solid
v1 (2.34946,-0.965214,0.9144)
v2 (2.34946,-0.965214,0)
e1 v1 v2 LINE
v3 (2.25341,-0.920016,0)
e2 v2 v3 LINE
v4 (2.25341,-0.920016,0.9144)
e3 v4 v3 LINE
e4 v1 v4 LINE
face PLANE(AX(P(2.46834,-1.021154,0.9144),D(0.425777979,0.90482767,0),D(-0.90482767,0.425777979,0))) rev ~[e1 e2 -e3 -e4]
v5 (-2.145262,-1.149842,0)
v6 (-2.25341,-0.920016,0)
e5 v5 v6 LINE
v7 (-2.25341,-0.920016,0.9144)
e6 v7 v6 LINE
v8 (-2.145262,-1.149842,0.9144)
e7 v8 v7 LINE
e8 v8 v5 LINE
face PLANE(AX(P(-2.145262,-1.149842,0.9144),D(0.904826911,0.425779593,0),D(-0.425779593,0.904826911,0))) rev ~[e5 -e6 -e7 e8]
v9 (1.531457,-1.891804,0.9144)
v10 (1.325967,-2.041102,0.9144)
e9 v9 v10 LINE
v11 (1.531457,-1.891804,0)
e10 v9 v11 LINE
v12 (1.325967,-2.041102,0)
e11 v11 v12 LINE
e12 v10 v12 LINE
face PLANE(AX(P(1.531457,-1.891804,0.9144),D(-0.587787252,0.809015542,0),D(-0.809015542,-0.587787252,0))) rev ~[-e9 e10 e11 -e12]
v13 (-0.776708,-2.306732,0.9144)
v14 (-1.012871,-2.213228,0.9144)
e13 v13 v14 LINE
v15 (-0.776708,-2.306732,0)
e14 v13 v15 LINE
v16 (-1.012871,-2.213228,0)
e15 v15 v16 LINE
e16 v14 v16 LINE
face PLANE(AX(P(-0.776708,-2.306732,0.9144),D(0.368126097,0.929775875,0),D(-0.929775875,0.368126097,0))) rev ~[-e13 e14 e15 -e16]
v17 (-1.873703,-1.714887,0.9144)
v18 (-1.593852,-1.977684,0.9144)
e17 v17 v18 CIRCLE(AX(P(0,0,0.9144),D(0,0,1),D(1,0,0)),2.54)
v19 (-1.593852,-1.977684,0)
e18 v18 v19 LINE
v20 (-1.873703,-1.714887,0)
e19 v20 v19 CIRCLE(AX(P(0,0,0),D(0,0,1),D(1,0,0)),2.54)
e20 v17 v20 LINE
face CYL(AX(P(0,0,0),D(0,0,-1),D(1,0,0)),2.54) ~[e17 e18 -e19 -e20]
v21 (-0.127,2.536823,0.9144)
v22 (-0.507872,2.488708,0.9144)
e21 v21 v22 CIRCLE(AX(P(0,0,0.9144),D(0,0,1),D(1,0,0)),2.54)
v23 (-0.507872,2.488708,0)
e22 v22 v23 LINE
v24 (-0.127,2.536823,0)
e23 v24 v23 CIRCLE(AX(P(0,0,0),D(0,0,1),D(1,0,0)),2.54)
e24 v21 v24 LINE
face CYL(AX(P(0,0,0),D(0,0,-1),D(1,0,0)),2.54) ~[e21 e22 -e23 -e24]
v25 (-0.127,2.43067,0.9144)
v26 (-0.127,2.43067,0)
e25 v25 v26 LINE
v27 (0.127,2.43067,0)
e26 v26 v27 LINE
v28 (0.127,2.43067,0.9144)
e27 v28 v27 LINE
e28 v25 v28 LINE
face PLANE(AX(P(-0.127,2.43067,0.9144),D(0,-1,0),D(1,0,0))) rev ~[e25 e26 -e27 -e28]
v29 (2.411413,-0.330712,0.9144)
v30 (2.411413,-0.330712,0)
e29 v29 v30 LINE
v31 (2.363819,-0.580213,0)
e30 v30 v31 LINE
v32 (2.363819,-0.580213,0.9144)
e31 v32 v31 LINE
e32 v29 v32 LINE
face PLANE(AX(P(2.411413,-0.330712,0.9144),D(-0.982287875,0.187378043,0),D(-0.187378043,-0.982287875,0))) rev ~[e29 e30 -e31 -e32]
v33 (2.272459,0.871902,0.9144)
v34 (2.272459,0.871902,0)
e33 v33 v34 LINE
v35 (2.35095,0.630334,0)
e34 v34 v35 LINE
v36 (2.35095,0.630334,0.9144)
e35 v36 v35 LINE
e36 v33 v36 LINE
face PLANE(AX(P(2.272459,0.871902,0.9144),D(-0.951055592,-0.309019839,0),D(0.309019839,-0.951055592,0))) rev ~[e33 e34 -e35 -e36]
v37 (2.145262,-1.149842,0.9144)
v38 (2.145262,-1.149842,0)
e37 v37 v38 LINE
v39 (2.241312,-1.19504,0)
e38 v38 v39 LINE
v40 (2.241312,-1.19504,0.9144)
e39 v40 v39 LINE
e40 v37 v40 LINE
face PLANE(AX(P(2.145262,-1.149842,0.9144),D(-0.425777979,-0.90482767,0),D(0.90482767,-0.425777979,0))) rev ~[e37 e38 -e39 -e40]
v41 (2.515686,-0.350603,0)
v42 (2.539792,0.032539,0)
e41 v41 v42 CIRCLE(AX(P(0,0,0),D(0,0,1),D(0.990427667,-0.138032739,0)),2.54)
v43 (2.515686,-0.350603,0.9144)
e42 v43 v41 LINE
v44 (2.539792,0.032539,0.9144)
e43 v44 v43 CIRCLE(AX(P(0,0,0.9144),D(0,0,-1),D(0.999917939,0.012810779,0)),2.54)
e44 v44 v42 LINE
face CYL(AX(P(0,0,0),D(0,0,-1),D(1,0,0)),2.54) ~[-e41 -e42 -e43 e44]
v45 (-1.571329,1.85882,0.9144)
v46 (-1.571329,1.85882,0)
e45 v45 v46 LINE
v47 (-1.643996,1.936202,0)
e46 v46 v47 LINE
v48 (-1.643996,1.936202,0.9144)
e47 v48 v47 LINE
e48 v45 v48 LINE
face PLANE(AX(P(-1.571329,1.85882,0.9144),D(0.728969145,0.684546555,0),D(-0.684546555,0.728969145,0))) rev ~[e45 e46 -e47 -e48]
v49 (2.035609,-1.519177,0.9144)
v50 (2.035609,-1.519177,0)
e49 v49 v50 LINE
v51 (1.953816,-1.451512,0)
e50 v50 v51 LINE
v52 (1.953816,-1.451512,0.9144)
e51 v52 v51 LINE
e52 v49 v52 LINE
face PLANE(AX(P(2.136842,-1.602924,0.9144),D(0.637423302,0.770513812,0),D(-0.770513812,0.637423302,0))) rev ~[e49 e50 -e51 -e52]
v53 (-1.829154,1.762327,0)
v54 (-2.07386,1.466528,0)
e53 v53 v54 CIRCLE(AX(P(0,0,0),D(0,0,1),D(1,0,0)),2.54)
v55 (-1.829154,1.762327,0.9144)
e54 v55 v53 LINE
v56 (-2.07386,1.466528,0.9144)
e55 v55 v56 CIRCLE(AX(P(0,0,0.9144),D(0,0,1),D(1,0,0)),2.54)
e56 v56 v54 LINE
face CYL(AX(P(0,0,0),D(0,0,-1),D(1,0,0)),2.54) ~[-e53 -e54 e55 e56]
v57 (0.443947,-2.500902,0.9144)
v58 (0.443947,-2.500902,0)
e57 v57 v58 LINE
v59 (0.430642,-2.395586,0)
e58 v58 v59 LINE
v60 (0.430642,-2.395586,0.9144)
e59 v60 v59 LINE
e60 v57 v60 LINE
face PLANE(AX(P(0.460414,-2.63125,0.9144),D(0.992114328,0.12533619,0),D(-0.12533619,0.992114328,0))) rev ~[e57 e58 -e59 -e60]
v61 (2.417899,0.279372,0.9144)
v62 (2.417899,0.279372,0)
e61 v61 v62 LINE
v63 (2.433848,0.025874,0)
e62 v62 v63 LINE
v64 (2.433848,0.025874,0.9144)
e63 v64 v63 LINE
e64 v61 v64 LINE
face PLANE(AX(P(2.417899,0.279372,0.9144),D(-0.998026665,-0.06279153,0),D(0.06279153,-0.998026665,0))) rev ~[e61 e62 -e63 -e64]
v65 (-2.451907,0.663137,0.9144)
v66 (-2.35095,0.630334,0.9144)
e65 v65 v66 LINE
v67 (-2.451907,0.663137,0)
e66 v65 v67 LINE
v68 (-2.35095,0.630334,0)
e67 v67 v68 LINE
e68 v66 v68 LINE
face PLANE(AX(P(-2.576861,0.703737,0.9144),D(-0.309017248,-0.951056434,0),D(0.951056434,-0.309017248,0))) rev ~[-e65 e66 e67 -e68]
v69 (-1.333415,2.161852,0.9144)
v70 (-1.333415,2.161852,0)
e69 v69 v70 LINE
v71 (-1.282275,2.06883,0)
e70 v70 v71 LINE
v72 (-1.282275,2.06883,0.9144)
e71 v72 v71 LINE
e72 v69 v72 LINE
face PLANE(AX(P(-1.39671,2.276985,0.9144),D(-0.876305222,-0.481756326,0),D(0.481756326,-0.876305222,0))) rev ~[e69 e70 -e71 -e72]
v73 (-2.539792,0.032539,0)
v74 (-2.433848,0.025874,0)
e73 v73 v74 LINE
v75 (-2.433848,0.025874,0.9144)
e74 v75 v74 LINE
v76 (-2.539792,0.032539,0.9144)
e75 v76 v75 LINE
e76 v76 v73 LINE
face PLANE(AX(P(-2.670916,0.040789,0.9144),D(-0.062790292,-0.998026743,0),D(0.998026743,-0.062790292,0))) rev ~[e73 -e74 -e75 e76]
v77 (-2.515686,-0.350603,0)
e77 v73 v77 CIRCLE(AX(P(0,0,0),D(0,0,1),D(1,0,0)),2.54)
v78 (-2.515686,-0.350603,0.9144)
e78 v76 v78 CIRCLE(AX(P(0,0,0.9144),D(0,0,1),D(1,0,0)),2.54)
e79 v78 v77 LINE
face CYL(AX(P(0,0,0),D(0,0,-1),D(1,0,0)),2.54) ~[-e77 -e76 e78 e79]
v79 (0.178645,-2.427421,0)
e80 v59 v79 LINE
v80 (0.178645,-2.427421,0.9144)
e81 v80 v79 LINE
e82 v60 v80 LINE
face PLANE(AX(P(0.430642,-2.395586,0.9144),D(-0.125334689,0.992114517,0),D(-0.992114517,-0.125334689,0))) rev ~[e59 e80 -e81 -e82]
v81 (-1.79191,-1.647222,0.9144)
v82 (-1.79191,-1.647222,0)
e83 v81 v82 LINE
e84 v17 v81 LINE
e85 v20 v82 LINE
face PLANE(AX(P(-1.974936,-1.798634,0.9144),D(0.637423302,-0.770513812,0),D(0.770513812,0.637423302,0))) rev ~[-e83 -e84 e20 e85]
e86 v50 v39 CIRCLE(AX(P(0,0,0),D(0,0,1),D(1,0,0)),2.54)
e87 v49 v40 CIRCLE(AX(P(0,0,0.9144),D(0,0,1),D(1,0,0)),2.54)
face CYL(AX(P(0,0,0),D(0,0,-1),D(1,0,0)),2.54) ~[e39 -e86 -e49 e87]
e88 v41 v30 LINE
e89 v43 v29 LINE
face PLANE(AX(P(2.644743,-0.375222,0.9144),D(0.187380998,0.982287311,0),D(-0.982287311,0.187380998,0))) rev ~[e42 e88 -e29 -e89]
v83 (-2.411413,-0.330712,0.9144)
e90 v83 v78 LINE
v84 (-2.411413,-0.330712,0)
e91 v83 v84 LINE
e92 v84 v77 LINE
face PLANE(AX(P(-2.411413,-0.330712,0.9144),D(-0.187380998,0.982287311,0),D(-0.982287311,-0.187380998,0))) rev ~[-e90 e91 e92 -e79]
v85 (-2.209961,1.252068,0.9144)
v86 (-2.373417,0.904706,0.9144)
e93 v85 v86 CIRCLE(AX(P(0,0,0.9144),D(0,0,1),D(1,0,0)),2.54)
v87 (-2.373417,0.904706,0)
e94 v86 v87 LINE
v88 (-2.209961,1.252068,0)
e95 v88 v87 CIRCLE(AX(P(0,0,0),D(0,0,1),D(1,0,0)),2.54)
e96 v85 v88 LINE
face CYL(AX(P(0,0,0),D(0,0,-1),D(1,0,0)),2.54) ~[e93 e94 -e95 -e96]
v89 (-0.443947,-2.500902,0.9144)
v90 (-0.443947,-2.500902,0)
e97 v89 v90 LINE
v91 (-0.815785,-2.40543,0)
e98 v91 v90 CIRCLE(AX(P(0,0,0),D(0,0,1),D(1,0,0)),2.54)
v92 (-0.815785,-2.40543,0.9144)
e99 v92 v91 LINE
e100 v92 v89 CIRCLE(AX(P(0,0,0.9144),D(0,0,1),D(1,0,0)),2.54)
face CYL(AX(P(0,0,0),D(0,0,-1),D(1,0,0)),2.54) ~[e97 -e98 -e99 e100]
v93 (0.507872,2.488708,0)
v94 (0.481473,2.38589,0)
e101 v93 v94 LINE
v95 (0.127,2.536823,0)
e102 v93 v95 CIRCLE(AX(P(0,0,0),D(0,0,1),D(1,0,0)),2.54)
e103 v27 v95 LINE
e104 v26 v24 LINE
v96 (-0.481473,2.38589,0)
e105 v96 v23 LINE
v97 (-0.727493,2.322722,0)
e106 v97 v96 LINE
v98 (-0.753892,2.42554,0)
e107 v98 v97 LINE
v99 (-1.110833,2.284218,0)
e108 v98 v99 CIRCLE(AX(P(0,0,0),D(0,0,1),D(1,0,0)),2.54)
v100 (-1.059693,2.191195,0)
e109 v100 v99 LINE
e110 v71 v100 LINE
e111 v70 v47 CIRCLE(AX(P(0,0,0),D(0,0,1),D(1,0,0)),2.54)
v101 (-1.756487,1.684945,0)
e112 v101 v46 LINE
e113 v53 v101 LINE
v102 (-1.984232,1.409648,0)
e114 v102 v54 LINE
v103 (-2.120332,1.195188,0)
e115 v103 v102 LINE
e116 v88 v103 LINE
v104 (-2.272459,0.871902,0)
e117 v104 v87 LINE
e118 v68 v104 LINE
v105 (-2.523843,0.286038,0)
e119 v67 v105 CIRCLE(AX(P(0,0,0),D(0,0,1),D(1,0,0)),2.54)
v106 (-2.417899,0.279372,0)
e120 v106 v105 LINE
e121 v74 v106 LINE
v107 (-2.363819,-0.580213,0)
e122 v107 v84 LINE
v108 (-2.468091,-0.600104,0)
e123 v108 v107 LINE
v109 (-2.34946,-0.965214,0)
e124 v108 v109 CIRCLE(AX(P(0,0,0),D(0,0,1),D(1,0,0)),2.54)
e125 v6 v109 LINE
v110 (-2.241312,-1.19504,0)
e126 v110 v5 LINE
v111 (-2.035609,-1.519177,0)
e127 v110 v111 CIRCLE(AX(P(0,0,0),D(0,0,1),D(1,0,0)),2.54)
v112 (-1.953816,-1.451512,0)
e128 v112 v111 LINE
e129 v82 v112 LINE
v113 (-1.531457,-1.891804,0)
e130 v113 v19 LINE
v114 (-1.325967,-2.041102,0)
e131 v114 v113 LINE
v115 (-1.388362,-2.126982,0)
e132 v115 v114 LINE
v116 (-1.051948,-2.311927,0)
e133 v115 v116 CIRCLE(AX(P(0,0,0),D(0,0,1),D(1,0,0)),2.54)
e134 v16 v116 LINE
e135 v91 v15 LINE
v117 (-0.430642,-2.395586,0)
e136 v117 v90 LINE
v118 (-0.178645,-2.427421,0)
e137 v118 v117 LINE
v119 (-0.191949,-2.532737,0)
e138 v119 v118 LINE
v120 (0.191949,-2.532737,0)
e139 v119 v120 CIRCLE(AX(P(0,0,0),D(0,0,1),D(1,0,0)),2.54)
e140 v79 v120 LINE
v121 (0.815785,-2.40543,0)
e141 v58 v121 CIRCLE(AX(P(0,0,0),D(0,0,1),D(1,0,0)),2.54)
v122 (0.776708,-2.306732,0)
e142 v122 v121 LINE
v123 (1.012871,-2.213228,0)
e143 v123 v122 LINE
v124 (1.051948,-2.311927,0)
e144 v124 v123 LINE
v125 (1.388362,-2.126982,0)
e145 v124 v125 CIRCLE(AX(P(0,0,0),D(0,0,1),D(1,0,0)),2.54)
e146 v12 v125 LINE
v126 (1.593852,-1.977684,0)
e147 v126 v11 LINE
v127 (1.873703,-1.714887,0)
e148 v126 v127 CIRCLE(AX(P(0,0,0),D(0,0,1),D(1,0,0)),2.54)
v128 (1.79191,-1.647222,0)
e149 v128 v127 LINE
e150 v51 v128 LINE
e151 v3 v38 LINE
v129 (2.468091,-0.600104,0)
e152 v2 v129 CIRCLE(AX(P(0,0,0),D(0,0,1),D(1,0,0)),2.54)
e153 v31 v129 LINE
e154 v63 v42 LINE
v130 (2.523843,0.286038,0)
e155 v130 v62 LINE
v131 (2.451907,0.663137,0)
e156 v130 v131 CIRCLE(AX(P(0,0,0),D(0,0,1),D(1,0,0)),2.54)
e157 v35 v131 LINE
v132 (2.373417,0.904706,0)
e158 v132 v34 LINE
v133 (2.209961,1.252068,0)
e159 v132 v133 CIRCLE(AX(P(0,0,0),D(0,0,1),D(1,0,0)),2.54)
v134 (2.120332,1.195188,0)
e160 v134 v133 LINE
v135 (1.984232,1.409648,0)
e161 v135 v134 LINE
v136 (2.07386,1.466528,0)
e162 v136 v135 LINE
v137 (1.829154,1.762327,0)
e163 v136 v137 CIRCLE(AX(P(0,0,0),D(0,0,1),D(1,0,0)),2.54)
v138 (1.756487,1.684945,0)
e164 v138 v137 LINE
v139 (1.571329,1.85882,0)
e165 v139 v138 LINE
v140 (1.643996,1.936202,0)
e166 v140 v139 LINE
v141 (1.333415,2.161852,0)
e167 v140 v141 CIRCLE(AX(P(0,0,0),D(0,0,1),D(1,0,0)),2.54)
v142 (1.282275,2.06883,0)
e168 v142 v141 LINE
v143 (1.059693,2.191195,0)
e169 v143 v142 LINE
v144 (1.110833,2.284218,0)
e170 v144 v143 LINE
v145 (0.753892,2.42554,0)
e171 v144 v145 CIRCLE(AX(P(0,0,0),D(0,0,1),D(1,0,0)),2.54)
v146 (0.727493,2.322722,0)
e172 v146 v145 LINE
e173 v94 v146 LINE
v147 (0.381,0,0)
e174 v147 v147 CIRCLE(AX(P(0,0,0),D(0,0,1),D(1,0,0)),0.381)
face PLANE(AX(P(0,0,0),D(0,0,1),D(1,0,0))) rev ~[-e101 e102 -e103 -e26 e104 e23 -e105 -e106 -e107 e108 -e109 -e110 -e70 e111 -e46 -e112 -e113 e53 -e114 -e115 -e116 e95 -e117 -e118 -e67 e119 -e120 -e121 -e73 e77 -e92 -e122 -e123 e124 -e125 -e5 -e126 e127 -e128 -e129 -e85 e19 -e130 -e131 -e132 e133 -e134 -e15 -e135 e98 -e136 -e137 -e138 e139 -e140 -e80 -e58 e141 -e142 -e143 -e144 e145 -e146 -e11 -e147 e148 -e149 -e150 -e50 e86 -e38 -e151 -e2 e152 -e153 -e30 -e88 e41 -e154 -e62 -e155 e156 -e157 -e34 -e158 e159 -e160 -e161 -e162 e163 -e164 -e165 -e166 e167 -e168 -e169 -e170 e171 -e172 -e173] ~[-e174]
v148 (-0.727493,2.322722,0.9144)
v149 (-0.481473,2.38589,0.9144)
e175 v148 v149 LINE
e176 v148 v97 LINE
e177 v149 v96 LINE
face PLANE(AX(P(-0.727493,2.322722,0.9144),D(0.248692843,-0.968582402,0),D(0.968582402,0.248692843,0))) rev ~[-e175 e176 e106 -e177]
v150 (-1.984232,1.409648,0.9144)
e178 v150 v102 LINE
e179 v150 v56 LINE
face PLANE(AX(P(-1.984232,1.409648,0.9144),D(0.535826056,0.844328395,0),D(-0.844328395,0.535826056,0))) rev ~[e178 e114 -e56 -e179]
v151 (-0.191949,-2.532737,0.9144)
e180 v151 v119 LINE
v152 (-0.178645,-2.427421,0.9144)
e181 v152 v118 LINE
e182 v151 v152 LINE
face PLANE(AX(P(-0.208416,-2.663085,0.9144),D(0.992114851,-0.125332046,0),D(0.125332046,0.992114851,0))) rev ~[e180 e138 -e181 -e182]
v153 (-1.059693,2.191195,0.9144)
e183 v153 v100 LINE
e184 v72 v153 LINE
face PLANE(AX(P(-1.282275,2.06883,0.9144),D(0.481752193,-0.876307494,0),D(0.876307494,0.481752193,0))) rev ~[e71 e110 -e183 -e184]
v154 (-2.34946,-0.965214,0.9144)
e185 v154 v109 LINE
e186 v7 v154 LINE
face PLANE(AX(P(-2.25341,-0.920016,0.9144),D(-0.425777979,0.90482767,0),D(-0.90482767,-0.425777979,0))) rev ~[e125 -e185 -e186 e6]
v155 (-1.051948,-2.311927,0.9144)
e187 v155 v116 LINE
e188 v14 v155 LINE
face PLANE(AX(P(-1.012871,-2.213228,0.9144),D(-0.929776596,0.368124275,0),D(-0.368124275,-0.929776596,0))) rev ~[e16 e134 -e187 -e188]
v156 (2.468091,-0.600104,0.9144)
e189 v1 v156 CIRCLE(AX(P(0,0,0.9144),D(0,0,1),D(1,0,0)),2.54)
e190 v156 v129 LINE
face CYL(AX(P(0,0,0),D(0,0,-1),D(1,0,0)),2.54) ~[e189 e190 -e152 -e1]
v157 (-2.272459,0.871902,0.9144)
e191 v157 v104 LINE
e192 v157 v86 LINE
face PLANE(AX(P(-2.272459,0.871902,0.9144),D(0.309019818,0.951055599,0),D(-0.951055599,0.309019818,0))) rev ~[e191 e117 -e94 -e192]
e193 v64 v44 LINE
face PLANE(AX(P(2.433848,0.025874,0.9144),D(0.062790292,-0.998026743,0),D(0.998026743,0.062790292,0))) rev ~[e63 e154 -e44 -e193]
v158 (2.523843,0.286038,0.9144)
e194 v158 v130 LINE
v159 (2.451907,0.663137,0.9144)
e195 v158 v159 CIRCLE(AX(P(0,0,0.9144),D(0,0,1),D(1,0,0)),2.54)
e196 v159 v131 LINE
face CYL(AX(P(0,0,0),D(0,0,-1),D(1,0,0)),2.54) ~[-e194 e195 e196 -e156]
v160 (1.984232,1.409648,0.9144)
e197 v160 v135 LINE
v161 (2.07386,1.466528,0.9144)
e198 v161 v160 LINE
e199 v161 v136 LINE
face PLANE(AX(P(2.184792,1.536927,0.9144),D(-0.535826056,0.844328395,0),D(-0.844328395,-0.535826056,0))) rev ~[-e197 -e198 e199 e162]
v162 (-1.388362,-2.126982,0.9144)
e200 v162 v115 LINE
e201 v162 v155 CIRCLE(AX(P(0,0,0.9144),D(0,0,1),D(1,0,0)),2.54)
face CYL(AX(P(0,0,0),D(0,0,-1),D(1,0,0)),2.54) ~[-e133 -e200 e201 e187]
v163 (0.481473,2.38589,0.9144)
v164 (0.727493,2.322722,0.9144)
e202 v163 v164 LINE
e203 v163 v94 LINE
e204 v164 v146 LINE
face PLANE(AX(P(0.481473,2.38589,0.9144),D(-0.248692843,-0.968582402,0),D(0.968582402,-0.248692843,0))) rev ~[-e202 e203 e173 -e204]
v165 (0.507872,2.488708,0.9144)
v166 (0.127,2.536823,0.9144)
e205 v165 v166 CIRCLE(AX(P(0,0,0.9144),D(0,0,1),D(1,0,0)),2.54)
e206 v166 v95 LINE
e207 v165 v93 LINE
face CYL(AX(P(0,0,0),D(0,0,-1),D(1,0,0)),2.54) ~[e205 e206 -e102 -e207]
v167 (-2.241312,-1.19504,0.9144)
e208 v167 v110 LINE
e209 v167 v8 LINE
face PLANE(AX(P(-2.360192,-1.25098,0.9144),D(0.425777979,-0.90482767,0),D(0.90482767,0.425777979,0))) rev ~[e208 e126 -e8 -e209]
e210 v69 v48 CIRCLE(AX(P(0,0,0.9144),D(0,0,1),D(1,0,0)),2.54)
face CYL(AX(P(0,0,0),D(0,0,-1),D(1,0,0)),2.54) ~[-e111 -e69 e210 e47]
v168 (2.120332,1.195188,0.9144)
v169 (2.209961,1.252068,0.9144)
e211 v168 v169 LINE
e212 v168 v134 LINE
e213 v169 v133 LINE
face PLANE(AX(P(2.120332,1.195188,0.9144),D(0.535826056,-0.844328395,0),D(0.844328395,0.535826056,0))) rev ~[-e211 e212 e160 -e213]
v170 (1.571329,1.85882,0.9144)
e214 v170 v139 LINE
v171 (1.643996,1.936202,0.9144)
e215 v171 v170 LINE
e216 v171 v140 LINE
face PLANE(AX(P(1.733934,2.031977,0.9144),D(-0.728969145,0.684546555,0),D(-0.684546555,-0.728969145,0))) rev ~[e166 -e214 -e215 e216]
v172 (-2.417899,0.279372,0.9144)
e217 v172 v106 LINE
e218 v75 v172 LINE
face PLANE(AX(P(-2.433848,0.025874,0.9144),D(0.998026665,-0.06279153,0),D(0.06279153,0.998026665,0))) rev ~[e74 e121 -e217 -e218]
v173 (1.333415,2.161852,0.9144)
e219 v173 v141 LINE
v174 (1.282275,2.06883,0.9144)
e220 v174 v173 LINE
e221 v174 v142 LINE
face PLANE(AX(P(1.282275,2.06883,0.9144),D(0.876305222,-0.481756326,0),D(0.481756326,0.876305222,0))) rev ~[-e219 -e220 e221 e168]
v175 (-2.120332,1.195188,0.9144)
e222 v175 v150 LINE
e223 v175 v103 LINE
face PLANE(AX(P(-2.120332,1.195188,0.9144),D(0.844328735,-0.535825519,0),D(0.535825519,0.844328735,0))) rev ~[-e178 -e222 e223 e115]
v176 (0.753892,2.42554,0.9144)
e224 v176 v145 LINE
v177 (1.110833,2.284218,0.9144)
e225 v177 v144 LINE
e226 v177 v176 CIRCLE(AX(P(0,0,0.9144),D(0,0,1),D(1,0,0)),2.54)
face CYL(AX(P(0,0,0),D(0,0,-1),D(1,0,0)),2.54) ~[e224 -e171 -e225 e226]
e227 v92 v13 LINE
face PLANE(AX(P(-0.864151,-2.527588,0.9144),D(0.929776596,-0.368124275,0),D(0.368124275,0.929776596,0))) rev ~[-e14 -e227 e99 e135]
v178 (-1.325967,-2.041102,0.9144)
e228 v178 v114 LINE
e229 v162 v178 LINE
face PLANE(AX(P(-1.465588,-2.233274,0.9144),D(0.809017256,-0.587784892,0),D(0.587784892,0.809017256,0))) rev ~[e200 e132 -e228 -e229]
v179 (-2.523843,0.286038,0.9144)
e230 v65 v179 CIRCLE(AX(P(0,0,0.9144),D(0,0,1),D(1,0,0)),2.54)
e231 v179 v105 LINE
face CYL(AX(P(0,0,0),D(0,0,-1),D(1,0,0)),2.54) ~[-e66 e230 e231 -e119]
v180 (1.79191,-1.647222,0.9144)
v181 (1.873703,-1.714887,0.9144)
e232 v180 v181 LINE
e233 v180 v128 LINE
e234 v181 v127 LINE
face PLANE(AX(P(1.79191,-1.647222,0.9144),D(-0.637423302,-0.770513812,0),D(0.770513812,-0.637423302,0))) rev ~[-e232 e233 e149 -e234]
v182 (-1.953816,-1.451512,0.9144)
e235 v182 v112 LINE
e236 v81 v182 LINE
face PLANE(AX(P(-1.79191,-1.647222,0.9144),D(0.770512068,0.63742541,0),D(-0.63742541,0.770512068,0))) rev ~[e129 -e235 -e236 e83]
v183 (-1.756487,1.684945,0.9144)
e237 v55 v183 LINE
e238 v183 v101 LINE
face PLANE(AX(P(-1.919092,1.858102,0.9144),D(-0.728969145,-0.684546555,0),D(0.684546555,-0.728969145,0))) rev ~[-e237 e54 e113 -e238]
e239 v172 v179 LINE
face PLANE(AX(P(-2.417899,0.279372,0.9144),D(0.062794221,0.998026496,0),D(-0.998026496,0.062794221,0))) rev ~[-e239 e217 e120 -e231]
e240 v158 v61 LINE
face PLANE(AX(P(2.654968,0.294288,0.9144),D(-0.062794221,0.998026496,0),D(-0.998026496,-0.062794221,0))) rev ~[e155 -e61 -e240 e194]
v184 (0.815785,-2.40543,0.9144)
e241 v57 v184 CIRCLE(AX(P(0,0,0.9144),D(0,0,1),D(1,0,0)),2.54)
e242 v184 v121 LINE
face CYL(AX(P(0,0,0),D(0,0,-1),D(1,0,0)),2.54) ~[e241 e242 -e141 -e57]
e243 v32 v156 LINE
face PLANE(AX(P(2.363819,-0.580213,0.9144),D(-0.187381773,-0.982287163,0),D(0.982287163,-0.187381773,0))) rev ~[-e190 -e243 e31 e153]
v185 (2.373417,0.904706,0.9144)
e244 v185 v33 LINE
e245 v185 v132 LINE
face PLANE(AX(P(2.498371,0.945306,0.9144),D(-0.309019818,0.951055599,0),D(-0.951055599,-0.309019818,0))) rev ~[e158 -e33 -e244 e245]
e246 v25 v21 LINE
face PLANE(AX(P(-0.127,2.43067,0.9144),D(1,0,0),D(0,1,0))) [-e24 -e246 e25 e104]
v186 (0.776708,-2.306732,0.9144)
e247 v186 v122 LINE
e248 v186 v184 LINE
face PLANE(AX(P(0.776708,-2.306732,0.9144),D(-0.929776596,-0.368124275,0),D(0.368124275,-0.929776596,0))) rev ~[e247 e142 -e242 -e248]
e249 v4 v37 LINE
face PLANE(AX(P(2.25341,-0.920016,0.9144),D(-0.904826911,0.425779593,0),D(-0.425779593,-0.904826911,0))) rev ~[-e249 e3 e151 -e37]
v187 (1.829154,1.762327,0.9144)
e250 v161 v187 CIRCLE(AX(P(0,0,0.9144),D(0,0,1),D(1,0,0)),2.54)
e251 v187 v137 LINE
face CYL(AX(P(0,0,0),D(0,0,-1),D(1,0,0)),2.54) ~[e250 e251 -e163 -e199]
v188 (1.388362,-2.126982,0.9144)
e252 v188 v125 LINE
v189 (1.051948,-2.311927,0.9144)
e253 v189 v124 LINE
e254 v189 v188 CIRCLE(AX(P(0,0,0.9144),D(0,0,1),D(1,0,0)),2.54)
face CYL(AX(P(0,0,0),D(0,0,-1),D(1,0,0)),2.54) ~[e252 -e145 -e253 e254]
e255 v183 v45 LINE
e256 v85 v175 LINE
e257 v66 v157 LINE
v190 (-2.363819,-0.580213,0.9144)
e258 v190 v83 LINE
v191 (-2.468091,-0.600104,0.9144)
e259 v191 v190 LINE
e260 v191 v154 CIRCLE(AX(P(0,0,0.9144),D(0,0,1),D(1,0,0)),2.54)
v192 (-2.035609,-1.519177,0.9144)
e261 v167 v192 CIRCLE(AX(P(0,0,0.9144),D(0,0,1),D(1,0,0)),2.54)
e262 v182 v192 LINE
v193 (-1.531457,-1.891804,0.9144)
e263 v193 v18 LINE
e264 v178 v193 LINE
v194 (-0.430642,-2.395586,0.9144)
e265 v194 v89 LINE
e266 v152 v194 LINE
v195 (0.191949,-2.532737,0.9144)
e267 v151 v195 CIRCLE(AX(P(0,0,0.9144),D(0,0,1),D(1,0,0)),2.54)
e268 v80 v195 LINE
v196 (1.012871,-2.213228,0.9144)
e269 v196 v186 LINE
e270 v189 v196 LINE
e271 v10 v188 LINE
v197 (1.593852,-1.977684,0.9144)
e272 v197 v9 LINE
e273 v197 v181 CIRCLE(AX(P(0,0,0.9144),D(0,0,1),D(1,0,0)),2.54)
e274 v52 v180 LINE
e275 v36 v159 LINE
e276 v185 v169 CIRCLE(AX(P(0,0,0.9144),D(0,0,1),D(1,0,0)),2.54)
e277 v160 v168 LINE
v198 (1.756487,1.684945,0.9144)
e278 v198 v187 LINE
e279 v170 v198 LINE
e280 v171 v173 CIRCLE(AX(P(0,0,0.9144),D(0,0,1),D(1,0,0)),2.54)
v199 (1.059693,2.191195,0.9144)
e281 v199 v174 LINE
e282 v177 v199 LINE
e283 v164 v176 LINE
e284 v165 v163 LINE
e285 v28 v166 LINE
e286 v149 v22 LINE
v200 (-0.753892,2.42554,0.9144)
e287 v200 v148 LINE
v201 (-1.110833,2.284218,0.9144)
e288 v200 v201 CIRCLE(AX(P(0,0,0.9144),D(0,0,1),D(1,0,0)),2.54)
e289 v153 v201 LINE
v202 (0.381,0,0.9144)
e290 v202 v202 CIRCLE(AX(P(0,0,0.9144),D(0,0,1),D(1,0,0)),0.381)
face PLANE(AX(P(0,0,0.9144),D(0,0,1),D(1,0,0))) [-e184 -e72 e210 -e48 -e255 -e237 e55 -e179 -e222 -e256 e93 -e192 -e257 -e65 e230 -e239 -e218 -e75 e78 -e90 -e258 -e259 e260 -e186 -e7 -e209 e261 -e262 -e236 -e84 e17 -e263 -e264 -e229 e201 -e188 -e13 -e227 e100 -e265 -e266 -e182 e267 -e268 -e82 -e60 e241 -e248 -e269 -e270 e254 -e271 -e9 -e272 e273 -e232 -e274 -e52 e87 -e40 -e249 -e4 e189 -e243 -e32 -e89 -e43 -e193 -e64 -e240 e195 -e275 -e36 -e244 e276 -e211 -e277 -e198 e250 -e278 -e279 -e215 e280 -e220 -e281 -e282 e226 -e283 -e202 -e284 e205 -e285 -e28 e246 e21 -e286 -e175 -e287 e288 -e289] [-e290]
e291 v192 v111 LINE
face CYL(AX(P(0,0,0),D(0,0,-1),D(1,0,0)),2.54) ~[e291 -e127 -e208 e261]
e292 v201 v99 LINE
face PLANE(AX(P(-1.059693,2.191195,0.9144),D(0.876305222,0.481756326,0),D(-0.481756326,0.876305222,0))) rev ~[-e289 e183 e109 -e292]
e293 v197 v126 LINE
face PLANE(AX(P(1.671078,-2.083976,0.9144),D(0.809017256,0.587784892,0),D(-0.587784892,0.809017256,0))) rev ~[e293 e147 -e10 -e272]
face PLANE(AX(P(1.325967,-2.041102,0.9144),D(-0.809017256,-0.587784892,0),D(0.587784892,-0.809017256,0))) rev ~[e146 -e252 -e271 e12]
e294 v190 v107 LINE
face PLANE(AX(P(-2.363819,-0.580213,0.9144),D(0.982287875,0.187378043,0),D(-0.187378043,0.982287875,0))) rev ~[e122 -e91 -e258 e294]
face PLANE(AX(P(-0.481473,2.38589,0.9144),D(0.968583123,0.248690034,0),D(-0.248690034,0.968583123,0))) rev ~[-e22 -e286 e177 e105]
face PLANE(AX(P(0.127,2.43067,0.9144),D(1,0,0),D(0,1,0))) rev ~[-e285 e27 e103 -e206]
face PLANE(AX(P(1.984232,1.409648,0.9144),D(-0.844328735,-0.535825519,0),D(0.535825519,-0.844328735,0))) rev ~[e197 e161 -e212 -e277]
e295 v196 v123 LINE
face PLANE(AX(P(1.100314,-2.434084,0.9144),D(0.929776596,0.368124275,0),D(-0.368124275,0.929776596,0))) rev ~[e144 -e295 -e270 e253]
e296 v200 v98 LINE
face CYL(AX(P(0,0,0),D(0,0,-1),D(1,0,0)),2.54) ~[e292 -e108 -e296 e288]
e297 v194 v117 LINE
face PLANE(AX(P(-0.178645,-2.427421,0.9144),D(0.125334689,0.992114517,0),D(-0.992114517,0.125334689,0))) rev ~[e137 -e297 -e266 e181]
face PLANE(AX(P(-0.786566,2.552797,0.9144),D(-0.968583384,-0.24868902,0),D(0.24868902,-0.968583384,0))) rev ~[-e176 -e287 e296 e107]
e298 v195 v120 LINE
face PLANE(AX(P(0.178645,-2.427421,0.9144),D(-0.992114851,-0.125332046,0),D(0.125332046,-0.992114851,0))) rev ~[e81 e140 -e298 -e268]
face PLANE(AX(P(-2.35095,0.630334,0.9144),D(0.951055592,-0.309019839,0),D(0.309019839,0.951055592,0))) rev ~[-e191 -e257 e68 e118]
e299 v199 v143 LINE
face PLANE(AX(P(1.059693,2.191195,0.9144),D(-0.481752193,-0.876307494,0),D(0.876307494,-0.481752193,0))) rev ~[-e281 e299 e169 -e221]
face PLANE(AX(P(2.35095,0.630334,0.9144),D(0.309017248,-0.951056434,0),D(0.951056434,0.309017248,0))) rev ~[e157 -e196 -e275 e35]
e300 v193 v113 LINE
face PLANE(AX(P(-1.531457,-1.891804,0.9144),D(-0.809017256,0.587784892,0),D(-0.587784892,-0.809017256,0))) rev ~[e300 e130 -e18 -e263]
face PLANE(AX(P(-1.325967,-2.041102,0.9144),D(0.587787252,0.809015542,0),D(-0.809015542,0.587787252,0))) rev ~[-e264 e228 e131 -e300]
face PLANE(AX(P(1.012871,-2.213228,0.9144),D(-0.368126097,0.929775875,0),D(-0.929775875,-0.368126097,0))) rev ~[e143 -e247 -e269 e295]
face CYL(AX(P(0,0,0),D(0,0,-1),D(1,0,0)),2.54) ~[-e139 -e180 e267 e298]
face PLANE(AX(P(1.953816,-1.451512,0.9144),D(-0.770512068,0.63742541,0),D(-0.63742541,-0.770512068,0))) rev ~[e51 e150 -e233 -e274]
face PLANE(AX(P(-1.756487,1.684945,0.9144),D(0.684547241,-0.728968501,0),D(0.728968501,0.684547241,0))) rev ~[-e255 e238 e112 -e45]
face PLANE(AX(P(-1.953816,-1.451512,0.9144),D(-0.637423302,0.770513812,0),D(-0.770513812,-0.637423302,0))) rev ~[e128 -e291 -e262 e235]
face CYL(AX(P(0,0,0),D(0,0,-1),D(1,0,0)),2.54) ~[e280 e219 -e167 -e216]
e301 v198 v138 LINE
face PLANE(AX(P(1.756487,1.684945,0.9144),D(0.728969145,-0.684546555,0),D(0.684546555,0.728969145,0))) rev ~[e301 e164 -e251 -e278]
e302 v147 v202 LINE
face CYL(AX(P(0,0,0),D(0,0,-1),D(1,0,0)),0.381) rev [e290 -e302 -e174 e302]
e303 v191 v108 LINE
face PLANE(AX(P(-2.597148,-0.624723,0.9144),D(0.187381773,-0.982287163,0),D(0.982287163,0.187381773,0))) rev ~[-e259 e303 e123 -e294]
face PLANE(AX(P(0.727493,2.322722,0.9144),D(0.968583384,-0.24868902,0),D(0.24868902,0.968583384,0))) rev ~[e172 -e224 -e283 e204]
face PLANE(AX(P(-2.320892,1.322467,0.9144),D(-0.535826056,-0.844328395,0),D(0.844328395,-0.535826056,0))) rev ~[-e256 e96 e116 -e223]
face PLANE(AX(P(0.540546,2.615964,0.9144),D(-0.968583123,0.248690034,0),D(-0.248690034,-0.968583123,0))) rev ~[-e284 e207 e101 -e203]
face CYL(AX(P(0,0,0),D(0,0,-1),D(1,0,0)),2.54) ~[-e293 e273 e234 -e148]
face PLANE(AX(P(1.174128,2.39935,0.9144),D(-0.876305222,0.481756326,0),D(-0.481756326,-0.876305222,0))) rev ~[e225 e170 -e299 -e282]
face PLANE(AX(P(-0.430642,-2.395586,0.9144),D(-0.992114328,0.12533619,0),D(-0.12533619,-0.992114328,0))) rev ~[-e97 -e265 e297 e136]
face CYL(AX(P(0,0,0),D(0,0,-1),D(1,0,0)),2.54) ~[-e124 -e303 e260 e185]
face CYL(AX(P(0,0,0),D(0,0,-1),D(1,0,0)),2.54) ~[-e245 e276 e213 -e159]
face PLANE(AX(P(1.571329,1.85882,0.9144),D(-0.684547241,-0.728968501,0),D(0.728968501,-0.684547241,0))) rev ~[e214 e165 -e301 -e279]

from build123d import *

# Parameters (mm, degrees)
F0_R     = 2.54
F0_R_2   = 0.381
F1_DEPTH = 0.9144
F2_W     = 0.254
F2_H     = 0.237537
F3_DEPTH = 25.4


with BuildPart() as f1:
    # F0 (on Top) → F1 (new body)
    with BuildSketch(Plane.XY):
        Circle(F0_R)
        Circle(F0_R_2, mode=Mode.SUBTRACT)
    extrude(amount=F1_DEPTH)

    # F2 (on face) → F3 (cut)
    with BuildSketch(Plane.XY.offset(0.9144)):
        with Locations((0, 2.549438)):
            Rectangle(F2_W, F2_H)
        Polygon((-0.481473, 2.38589), (-0.540546, 2.615964), (-0.786566, 2.552797), (-0.727493, 2.322722), align=None)
        Polygon((-1.059693, 2.191195), (-1.174128, 2.39935), (-1.39671, 2.276985), (-1.282275, 2.06883), align=None)
        Polygon((-1.571329, 1.85882), (-1.733934, 2.031977), (-1.919092, 1.858102), (-1.756487, 1.684945), align=None)
        Polygon((-1.984232, 1.409648), (-2.184792, 1.536927), (-2.320892, 1.322467), (-2.120332, 1.195188), align=None)
        Polygon((-2.272459, 0.871902), (-2.498371, 0.945306), (-2.576861, 0.703737), (-2.35095, 0.630334), align=None)
        Polygon((-2.417899, 0.279372), (-2.654968, 0.294288), (-2.670916, 0.040789), (-2.433848, 0.025874), align=None)
        Polygon((-2.411413, -0.330712), (-2.644743, -0.375222), (-2.597148, -0.624723), (-2.363819, -0.580213), align=None)
        Polygon((-2.25341, -0.920016), (-2.46834, -1.021154), (-2.360192, -1.25098), (-2.145262, -1.149842), align=None)
        Polygon((-1.953816, -1.451512), (-2.136842, -1.602924), (-1.974936, -1.798634), (-1.79191, -1.647222), align=None)
        Polygon((-1.531457, -1.891804), (-1.671078, -2.083976), (-1.465588, -2.233274), (-1.325967, -2.041102), align=None)
        Polygon((-1.012871, -2.213228), (-1.100314, -2.434084), (-0.864151, -2.527588), (-0.776708, -2.306732), align=None)
        Polygon((-0.430642, -2.395586), (-0.460414, -2.63125), (-0.208416, -2.663085), (-0.178645, -2.427421), align=None)
        Polygon((0.178645, -2.427421), (0.208416, -2.663085), (0.460414, -2.63125), (0.430642, -2.395586), align=None)
        Polygon((0.776708, -2.306732), (0.864151, -2.527588), (1.100314, -2.434084), (1.012871, -2.213228), align=None)
        Polygon((1.325967, -2.041102), (1.465588, -2.233274), (1.671078, -2.083976), (1.531457, -1.891804), align=None)
        Polygon((1.79191, -1.647222), (1.974936, -1.798634), (2.136842, -1.602924), (1.953816, -1.451512), align=None)
        Polygon((2.145262, -1.149842), (2.360192, -1.25098), (2.46834, -1.021154), (2.25341, -0.920016), align=None)
        Polygon((2.363819, -0.580213), (2.597148, -0.624723), (2.644743, -0.375222), (2.411413, -0.330712), align=None)
        Polygon((2.433848, 0.025874), (2.670916, 0.040789), (2.654968, 0.294288), (2.417899, 0.279372), align=None)
        Polygon((2.35095, 0.630334), (2.576861, 0.703737), (2.498371, 0.945306), (2.272459, 0.871902), align=None)
        Polygon((2.120332, 1.195188), (2.320892, 1.322467), (2.184792, 1.536927), (1.984232, 1.409648), align=None)
        Polygon((1.756487, 1.684945), (1.919092, 1.858102), (1.733934, 2.031977), (1.571329, 1.85882), align=None)
        Polygon((1.282275, 2.06883), (1.39671, 2.276985), (1.174128, 2.39935), (1.059693, 2.191195), align=None)
        Polygon((0.727493, 2.322722), (0.786566, 2.552797), (0.540546, 2.615964), (0.481473, 2.38589), align=None)
    extrude(amount=-F3_DEPTH, mode=Mode.SUBTRACT)


solid = f1.part
